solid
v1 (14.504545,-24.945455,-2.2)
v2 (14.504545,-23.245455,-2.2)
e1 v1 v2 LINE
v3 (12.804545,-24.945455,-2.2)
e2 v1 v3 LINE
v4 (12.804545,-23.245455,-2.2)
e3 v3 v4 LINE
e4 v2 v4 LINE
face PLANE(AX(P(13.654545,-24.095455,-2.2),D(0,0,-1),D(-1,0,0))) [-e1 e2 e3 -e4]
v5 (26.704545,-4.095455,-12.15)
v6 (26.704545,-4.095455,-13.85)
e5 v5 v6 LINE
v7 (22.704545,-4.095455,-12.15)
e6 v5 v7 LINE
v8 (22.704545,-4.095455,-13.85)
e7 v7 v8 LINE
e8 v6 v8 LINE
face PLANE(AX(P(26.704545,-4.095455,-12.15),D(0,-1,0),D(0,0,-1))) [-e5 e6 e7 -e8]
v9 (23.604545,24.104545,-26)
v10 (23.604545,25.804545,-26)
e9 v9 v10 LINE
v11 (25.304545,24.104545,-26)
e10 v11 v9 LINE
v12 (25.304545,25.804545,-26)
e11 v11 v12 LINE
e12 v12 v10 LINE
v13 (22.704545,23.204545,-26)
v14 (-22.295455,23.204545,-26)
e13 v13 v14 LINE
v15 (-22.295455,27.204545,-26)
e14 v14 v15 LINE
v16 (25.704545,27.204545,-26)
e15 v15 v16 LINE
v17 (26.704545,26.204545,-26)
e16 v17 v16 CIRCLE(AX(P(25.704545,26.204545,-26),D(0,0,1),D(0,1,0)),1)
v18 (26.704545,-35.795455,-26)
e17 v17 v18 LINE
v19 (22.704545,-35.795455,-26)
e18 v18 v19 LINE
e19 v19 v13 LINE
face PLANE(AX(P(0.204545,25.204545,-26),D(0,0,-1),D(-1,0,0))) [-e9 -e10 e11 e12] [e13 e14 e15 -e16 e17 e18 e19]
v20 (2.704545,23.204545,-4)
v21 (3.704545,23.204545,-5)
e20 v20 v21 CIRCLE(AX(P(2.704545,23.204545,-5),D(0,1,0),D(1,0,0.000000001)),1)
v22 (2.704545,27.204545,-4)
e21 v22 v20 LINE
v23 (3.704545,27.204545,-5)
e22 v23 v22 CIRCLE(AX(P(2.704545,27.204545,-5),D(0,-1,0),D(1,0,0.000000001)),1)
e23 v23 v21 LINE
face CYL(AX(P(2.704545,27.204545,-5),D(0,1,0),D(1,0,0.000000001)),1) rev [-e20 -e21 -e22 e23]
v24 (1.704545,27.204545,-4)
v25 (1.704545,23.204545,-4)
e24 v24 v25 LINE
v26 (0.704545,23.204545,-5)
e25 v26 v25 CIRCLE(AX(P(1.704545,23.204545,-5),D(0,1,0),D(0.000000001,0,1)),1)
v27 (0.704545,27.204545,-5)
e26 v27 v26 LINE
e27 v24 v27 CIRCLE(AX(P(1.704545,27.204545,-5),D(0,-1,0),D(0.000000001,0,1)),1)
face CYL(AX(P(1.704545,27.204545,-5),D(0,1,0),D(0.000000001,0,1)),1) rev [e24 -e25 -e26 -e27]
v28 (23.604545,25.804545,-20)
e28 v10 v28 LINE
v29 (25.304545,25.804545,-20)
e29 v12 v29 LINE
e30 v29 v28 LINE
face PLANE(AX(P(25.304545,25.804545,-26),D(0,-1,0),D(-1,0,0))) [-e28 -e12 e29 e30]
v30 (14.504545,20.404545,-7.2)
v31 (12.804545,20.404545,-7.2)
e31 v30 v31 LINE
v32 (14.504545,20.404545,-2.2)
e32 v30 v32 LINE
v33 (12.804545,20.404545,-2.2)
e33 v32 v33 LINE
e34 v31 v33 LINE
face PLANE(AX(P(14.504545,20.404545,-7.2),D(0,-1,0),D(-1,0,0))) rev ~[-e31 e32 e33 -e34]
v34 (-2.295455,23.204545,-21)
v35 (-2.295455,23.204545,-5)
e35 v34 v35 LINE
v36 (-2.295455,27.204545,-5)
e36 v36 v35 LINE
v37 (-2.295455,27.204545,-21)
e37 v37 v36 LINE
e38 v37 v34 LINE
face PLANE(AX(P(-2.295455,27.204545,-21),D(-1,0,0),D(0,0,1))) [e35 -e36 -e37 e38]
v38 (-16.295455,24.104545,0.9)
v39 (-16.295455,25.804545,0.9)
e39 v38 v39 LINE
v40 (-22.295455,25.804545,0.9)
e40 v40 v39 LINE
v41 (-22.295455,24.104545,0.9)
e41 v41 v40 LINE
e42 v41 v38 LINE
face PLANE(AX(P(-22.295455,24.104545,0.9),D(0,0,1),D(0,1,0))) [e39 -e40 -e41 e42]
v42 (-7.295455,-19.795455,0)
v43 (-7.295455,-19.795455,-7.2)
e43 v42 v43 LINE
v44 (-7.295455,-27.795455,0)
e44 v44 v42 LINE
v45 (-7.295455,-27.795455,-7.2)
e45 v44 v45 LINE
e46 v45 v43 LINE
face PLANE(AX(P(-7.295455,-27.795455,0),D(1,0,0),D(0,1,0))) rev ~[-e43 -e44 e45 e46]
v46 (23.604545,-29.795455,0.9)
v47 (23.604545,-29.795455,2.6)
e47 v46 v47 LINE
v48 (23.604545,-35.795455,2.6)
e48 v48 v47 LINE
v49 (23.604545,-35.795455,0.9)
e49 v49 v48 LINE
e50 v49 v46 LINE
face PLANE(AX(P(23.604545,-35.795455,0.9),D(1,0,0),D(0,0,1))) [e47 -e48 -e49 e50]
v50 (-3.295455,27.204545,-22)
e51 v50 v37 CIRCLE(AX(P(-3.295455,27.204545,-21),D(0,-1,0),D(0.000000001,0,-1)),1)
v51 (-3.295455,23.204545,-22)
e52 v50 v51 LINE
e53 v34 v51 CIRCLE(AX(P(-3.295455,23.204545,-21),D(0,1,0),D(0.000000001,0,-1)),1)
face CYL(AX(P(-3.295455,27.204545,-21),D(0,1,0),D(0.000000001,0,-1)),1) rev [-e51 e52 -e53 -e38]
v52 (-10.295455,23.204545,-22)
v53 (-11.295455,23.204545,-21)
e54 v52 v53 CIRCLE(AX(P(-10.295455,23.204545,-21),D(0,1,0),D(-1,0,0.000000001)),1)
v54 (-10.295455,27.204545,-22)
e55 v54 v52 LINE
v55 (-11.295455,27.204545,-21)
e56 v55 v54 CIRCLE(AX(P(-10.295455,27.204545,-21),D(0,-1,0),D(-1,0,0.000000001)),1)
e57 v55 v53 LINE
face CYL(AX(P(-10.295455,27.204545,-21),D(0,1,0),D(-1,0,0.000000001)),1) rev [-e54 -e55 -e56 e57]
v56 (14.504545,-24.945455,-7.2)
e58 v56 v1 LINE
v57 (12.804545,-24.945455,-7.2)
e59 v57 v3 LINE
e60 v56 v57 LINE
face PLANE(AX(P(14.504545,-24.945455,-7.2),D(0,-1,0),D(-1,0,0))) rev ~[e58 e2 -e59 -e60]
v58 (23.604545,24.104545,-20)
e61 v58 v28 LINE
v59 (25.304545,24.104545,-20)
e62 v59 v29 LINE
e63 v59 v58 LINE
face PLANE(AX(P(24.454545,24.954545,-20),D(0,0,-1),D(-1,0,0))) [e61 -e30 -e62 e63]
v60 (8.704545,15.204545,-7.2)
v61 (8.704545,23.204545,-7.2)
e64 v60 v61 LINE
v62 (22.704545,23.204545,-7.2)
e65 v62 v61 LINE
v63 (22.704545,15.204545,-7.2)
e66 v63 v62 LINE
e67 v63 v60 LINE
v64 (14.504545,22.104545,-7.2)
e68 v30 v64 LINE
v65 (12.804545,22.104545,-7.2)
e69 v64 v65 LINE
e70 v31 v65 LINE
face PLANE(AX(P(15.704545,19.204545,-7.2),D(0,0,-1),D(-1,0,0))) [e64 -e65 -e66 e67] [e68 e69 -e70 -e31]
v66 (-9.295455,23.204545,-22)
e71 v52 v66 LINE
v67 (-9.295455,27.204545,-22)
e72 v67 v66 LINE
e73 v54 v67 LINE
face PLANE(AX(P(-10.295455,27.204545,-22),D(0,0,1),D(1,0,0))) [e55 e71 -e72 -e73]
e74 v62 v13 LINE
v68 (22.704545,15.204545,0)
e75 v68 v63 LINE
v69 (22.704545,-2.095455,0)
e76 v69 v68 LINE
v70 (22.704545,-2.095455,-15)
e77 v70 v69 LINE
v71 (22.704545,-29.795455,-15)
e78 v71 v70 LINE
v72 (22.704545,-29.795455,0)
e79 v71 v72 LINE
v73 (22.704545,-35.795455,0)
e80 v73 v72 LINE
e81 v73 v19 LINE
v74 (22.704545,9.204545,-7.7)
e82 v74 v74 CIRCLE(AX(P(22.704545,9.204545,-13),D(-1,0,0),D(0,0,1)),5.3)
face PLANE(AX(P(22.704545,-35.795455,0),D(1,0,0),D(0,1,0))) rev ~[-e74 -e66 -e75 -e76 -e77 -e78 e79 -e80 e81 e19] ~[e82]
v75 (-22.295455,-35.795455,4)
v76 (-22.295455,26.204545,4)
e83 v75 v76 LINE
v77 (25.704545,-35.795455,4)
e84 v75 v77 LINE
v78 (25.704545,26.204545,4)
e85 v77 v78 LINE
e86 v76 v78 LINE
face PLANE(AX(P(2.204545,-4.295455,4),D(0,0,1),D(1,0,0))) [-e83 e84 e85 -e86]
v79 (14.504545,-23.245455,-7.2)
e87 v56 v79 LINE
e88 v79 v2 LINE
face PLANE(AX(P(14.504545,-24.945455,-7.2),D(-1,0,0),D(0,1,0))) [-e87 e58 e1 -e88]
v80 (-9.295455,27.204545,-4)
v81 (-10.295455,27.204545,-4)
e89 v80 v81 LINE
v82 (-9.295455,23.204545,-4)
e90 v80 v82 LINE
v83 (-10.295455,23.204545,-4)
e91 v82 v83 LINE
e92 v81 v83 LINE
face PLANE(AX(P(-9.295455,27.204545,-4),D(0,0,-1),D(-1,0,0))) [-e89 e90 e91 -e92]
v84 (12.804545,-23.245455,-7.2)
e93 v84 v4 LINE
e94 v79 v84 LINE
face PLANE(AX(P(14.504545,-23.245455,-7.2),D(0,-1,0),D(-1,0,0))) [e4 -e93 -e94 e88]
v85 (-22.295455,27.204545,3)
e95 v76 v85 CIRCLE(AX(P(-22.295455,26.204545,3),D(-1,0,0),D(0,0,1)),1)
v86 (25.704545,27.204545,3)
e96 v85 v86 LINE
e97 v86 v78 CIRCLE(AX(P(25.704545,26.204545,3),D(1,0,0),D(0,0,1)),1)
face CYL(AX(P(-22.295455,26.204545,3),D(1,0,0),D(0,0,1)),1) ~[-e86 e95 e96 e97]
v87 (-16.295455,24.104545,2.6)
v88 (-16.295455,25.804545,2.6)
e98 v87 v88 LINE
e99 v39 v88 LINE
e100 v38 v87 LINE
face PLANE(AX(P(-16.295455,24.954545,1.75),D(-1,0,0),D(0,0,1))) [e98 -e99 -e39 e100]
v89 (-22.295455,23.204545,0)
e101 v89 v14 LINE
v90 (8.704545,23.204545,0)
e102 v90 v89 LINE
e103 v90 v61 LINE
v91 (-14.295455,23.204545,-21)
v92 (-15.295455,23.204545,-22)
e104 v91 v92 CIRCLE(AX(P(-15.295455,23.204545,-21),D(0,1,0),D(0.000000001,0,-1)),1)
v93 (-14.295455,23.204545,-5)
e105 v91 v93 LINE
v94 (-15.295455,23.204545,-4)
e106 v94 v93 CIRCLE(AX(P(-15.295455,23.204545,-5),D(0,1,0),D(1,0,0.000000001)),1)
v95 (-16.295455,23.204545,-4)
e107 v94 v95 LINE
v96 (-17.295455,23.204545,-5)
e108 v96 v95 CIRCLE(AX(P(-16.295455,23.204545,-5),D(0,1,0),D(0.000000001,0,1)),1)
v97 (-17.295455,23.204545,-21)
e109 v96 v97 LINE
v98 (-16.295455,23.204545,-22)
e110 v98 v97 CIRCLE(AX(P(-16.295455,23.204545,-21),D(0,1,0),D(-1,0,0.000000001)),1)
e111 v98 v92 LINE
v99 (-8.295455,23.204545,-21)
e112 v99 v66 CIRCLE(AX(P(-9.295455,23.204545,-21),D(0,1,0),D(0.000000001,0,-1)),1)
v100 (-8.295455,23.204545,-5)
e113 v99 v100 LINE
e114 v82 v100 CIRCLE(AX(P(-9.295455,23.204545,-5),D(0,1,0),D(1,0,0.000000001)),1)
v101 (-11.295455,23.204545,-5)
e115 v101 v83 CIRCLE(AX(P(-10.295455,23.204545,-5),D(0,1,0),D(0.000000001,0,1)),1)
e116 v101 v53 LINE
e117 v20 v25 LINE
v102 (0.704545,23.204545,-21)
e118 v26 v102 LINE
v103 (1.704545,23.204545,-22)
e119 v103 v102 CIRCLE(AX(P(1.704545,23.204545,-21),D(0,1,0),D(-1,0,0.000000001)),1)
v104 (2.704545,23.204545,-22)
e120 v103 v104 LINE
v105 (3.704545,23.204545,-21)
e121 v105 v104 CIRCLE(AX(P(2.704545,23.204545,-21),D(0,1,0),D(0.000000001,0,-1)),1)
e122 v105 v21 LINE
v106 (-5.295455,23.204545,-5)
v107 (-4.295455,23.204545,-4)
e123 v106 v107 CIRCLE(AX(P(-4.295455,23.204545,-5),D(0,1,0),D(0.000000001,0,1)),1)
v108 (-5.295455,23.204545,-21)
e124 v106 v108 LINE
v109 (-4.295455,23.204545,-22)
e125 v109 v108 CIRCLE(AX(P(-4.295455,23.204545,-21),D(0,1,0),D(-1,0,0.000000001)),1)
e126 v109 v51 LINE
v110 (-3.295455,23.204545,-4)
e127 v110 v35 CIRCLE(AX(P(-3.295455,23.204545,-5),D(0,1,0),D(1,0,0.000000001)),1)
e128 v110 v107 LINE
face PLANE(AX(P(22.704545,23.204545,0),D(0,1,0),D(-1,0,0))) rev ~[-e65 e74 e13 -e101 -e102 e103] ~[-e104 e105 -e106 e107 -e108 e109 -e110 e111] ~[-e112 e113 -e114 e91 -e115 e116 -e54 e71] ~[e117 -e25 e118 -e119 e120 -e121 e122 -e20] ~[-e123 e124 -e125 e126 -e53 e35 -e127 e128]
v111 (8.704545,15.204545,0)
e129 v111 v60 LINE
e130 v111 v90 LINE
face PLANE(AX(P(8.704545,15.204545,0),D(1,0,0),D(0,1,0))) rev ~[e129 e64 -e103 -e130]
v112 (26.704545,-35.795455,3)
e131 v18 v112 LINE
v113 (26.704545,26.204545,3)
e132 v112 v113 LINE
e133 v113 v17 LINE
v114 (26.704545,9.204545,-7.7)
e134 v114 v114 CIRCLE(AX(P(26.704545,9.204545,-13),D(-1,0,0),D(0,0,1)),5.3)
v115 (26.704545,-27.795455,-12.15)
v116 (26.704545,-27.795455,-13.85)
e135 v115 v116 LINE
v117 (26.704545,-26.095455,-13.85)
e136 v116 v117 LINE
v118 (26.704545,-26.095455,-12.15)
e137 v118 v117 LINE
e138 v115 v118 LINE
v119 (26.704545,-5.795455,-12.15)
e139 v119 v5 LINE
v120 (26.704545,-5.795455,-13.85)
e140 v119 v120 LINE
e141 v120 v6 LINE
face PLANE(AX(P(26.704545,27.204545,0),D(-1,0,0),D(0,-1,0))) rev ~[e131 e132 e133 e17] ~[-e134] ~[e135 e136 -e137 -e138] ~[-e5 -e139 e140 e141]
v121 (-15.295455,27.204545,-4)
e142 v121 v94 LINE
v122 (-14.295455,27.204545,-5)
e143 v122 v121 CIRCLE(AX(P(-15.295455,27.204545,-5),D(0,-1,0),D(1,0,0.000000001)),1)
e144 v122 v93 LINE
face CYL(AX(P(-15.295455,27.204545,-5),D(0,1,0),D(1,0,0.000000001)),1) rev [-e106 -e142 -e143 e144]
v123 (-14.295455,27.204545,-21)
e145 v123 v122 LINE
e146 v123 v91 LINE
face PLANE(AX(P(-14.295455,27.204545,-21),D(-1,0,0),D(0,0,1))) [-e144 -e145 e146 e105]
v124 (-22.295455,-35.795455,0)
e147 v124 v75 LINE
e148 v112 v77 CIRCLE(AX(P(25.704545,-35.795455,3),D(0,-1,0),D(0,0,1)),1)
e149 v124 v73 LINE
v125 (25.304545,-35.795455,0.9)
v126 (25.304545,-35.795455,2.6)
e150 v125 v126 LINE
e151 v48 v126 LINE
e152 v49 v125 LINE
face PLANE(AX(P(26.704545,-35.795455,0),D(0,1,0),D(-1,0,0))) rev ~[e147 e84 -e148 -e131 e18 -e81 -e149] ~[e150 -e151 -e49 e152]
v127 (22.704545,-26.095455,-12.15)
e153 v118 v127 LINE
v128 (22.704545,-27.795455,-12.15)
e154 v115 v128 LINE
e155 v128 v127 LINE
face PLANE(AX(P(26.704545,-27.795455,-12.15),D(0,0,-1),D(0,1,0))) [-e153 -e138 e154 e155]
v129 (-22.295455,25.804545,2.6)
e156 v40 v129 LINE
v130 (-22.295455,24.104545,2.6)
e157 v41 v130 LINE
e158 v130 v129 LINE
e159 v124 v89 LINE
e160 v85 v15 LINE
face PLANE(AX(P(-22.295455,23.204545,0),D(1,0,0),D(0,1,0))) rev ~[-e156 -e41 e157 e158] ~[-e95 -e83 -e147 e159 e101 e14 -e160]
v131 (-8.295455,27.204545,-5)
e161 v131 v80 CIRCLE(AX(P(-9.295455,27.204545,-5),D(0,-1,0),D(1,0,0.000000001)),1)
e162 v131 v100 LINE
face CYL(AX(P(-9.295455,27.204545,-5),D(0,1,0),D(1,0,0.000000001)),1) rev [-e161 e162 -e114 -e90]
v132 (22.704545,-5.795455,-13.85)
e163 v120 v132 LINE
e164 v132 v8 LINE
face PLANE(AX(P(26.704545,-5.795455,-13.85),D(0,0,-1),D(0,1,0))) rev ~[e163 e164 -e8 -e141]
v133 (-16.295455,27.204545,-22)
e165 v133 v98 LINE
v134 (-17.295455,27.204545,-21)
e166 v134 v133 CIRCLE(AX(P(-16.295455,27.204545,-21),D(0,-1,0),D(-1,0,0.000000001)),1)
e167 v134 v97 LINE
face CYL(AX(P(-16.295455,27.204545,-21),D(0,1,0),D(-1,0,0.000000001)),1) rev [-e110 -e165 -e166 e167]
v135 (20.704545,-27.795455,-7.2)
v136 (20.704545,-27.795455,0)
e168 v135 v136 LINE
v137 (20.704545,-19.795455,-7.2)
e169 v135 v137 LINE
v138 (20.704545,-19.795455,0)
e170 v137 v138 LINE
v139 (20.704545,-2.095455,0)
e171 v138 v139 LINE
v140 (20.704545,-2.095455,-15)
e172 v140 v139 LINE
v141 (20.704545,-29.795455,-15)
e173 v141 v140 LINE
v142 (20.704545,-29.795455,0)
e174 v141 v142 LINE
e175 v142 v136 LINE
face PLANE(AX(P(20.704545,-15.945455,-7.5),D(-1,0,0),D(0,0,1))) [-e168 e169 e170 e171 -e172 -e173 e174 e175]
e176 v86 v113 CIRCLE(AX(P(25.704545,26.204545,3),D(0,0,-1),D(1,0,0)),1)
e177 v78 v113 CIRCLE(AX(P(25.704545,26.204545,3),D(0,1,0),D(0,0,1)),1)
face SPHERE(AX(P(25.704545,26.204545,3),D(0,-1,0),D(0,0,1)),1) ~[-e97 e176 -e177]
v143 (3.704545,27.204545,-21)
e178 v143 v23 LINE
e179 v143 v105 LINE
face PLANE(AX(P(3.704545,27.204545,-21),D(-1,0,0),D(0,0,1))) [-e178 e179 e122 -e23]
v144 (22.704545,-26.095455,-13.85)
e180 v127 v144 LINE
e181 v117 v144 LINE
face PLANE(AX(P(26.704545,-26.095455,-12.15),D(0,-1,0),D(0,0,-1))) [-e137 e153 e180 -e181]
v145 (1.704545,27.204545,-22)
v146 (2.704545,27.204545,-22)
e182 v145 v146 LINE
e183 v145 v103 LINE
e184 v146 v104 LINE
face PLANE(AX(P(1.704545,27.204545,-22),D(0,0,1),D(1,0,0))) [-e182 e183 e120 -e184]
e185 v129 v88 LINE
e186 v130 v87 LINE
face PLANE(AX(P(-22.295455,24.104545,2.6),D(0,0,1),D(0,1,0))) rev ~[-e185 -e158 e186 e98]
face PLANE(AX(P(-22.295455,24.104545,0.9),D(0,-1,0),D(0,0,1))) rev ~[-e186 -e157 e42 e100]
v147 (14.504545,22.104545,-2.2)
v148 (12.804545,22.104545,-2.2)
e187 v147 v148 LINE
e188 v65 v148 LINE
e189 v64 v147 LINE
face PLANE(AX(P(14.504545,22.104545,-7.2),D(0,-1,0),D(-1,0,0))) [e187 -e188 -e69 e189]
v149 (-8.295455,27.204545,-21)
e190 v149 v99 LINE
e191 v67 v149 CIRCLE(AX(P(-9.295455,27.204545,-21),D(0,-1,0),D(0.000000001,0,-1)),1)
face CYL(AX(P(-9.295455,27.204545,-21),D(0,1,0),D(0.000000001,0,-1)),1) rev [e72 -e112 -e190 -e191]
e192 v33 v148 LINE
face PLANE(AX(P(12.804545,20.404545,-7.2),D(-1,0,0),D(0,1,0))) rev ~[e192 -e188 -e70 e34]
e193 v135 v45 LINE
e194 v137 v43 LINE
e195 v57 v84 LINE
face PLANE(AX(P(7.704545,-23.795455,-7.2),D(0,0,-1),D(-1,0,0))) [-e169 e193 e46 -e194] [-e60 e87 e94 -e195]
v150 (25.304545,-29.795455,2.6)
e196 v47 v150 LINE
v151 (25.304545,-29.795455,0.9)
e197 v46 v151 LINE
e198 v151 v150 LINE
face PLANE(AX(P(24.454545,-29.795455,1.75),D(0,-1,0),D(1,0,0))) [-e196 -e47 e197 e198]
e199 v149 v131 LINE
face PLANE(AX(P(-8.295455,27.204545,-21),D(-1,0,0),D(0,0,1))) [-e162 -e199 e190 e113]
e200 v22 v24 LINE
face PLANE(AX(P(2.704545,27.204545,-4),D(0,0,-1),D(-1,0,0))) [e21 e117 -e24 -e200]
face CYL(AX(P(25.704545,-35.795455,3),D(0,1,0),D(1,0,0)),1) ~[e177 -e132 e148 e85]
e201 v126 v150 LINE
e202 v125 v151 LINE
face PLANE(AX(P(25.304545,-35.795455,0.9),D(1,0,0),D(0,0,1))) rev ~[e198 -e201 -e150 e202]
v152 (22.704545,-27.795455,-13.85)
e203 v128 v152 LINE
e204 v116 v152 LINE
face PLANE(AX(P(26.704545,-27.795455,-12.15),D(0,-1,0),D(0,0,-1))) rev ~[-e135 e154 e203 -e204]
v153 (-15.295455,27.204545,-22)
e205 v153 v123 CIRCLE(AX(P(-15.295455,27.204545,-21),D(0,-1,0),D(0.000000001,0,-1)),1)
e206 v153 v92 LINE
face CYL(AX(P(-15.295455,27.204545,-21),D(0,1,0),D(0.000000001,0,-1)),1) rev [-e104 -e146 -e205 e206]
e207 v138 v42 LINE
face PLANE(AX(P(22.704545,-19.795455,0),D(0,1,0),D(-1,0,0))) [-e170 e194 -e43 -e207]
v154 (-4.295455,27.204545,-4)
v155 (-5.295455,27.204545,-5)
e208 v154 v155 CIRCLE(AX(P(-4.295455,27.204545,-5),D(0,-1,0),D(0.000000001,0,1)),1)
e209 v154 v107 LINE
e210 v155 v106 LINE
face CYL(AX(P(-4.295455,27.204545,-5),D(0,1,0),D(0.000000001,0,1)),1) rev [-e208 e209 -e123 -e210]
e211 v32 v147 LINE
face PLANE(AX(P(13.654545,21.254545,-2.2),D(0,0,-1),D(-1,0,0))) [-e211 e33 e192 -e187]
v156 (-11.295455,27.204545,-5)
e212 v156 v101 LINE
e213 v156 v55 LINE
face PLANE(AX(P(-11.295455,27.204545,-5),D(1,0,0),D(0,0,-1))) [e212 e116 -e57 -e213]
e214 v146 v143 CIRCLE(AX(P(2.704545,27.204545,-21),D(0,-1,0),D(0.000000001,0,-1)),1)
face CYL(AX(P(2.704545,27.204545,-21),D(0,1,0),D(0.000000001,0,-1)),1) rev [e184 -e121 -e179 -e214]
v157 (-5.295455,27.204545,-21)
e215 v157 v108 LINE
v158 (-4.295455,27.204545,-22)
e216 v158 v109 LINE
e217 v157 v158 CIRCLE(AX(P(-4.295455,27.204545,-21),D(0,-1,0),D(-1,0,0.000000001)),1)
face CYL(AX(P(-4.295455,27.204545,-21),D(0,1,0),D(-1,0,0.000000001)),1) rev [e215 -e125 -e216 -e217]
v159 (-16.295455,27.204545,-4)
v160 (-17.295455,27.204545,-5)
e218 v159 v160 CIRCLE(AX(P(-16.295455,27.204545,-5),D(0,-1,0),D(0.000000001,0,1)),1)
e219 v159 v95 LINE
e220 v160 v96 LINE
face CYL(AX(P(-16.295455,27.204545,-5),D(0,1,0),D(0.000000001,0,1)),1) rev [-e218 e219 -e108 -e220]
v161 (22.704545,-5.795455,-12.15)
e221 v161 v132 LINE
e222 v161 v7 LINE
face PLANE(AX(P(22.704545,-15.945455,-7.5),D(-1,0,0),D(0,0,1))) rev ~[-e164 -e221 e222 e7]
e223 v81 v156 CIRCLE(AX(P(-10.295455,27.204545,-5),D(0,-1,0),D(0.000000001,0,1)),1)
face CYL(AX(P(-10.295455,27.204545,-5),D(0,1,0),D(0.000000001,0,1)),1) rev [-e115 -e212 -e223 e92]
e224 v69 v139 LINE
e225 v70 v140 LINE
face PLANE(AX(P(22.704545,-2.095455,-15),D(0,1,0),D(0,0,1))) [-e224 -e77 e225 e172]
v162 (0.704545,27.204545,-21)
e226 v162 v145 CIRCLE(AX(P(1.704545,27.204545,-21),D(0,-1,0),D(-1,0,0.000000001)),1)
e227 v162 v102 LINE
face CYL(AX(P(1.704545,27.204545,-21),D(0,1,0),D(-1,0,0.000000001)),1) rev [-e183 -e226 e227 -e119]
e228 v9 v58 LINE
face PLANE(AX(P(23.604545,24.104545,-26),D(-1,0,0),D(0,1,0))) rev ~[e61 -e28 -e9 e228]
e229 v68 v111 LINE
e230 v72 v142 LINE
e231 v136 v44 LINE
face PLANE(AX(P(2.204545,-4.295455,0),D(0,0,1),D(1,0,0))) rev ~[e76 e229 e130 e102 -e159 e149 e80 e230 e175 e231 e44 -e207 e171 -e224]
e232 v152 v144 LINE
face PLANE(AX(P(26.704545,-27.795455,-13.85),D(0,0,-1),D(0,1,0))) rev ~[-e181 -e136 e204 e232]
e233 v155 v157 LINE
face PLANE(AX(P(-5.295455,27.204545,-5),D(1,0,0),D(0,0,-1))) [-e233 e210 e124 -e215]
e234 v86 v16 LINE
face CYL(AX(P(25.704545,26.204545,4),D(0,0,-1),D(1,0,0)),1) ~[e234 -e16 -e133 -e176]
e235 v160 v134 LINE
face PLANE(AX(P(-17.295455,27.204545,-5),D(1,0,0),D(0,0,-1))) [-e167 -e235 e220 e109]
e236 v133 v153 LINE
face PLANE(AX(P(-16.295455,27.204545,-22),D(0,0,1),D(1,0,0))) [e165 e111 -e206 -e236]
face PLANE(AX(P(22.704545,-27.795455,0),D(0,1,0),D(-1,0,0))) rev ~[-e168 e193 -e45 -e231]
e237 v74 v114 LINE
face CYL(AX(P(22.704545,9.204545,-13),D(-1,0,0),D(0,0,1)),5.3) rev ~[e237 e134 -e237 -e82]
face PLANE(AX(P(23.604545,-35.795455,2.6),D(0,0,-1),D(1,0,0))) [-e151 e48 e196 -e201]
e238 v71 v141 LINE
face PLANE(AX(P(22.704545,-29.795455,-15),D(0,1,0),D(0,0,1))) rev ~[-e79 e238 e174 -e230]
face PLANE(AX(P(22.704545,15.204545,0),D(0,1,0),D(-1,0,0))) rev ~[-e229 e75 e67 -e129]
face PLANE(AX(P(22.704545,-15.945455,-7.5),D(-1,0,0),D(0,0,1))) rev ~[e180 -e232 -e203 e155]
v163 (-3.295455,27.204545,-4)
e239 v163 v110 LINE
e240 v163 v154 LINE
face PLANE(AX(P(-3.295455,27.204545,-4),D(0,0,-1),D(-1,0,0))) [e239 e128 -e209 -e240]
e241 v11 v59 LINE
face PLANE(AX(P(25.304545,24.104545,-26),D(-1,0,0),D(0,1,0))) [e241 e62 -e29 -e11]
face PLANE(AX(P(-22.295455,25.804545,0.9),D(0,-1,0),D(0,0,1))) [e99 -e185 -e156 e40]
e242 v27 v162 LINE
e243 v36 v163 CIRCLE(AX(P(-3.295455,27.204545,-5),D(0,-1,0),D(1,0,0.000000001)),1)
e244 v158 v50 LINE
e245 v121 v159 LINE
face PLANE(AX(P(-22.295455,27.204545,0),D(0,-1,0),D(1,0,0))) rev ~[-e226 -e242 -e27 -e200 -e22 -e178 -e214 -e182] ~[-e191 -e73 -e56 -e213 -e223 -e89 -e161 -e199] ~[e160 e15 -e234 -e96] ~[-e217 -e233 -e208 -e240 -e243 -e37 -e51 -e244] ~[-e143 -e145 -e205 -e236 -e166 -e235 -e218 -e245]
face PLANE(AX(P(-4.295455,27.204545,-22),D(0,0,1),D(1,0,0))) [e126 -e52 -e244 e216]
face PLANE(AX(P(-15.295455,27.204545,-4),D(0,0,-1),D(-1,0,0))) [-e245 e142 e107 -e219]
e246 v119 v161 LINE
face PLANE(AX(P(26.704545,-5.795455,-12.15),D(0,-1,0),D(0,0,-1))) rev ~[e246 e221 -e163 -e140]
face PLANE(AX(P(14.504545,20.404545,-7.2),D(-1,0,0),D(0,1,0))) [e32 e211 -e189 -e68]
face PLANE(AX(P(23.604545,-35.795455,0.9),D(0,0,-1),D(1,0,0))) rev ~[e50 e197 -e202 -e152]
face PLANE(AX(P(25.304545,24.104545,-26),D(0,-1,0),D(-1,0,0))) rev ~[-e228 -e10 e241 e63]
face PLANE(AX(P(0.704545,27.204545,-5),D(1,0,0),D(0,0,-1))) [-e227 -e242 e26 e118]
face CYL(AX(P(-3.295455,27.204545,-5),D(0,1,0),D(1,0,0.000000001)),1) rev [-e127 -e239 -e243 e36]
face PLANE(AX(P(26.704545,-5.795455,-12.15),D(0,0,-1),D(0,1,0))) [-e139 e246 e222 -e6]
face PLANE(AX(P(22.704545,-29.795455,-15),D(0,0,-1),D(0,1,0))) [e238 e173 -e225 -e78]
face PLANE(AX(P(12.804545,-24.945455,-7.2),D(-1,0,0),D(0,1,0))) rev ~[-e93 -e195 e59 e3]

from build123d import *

# Parameters (mm, degrees)
SKETCH_1_W          = 49
SKETCH_1_H          = 63
EXTRUDE_1_DEPTH     = 4
SKETCH_2_W          = 45
SKETCH_2_H          = 4
SKETCH_2_W_2        = 4
SKETCH_2_H_2        = 59
EXTRUDE_2_DEPTH     = 26
SKETCH_3_W          = 14
SKETCH_3_H          = 8
SKETCH_3_W_2        = 30
EXTRUDE_3_DEPTH     = 7.2
SKETCH_5_R          = 5.3
CUT_EXTRUDE_1_DEPTH = 4
SKETCH_7_W          = 1.7
SKETCH_7_H          = 1.7
CUT_EXTRUDE_3_DEPTH = 6
SKETCH_8_W          = 1.7
SKETCH_8_H          = 1.7
CUT_EXTRUDE_4_DEPTH = 6
SKETCH_9_W          = 1.7
SKETCH_9_H          = 1.7
CUT_EXTRUDE_5_DEPTH = 6
FILLET_1_R          = 1
SKETCH_6_W          = 1.7
SKETCH_6_H          = 1.7
CUT_EXTRUDE_7_DEPTH = 5
SKETCH_10_W         = 15
SKETCH_10_H         = 27.7
EXTRUDE_4_DEPTH     = 2
CUT_EXTRUDE_8_DEPTH = 13
SKETCH_12_W         = 1.7
SKETCH_12_H         = 1.7
CUT_EXTRUDE_9_DEPTH = 5


with BuildPart() as part:
    # Эскиз1 → Бобышка-Вытянуть1 (new body)
    with BuildSketch(Plane.XY):
        with Locations((2.204545455, -4.295454545)):
            Rectangle(SKETCH_1_W, SKETCH_1_H)
    extrude(amount=EXTRUDE_1_DEPTH)

    # Эскиз2 → Бобышка-Вытянуть2 (add)
    with BuildSketch(Plane(origin=(0, 0, 0), x_dir=(-1, 0, 0), z_dir=(0, 0, -1))):
        with Locations((-0.204545455, 25.204545455)):
            Rectangle(SKETCH_2_W, SKETCH_2_H)
        with Locations((-24.704545455, -6.295454545)):
            Rectangle(SKETCH_2_W_2, SKETCH_2_H_2)
        with Locations((-24.704545455, 25.204545455)):
            Rectangle(SKETCH_2_W_2, SKETCH_2_H)
    extrude(amount=EXTRUDE_2_DEPTH)

    # Эскиз3 → Бобышка-Вытянуть3 (add)
    with BuildSketch(Plane(origin=(0, 0, 0), x_dir=(-1, 0, 0), z_dir=(0, 0, -1))):
        with Locations((-15.704545455, 19.204545455)):
            Rectangle(SKETCH_3_W, SKETCH_3_H)
        with Locations((-7.704545455, -23.795454545)):
            Rectangle(SKETCH_3_W_2, SKETCH_3_H)
    extrude(amount=EXTRUDE_3_DEPTH)

    # Эскиз5 → Вырез-Вытянуть1 (cut)
    with BuildSketch(Plane.ZY.offset(-22.704545455)):
        with Locations((-13, 9.204545455)):
            Circle(SKETCH_5_R)
    extrude(amount=-CUT_EXTRUDE_1_DEPTH, mode=Mode.SUBTRACT)

    # Эскиз7 → Вырез-Вытянуть3 (cut)
    with BuildSketch(Plane.ZY.offset(22.295454545)):
        with Locations((1.75, 24.954545455)):
            Rectangle(SKETCH_7_W, SKETCH_7_H)
    extrude(amount=-CUT_EXTRUDE_3_DEPTH, mode=Mode.SUBTRACT)

    # Эскиз8 → Вырез-Вытянуть4 (cut)
    with BuildSketch(Plane.XZ.offset(35.795454545)):
        with Locations((24.454545455, 1.75)):
            Rectangle(SKETCH_8_W, SKETCH_8_H)
    extrude(amount=-CUT_EXTRUDE_4_DEPTH, mode=Mode.SUBTRACT)

    # Эскиз9 → Вырез-Вытянуть5 (cut)
    with BuildSketch(Plane(origin=(0, 0, -26), x_dir=(-1, 0, 0), z_dir=(0, 0, -1))):
        with Locations((-24.454545455, 24.954545455)):
            Rectangle(SKETCH_9_W, SKETCH_9_H)
    extrude(amount=-CUT_EXTRUDE_5_DEPTH, mode=Mode.SUBTRACT)

    # Скругление1
    fillet_1_edges = [part.edges().sort_by_distance(p)[0] for p in [
        (26.704545455, -4.295454545, 4),
        (2.204545455, 27.204545455, 4),
        (26.704545455, 27.204545455, -11),
    ]]
    fillet(fillet_1_edges, radius=FILLET_1_R)

    # Эскиз6 → Вырез-Вытянуть7 (cut)
    with BuildSketch(Plane(origin=(26.704545455, 0, 0), x_dir=(0, 0, -1), z_dir=(1, 0, 0))):
        with Locations((13, -4.945454545)):
            Rectangle(SKETCH_6_W, SKETCH_6_H)
        with Locations((13, -26.945454545)):
            Rectangle(SKETCH_6_W, SKETCH_6_H)
    extrude(amount=-CUT_EXTRUDE_7_DEPTH, mode=Mode.SUBTRACT)

    # Эскиз10 → Бобышка-Вытянуть4 (add)
    with BuildSketch(Plane.ZY.offset(-22.704545455)):
        with Locations((-7.5, -15.945454545)):
            Rectangle(SKETCH_10_W, SKETCH_10_H)
    extrude(amount=EXTRUDE_4_DEPTH)

    # Эскиз11 → Вырез-Вытянуть8 (cut)
    with BuildSketch(Plane(origin=(0, 27.204545455, 0), x_dir=(1, 0, 0), z_dir=(0, 1, 0))):
        with BuildLine():
            Line((2.704545455, 4), (1.704545455, 4))
            ThreePointArc((1.704545455, 4), (0.997438673, 4.292893219), (0.704545455, 5))
            Line((0.704545455, 5), (0.704545455, 21))
            ThreePointArc((0.704545455, 21), (0.997438673, 21.707106781), (1.704545455, 22))
            Line((1.704545455, 22), (2.704545455, 22))
            ThreePointArc((2.704545455, 22), (3.411652236, 21.707106781), (3.704545455, 21))
            Line((3.704545455, 21), (3.704545455, 5))
            ThreePointArc((3.704545455, 5), (3.411652236, 4.292893219), (2.704545455, 4))
        make_face()
        with BuildLine():
            Line((-3.295454545, 4), (-4.295454545, 4))
            ThreePointArc((-4.295454545, 4), (-5.002561327, 4.292893219), (-5.295454545, 5))
            Line((-5.295454545, 5), (-5.295454545, 21))
            ThreePointArc((-5.295454545, 21), (-5.002561327, 21.707106781), (-4.295454545, 22))
            Line((-4.295454545, 22), (-3.295454545, 22))
            ThreePointArc((-3.295454545, 22), (-2.588347764, 21.707106781), (-2.295454545, 21))
            Line((-2.295454545, 21), (-2.295454545, 5))
            ThreePointArc((-2.295454545, 5), (-2.588347764, 4.292893219), (-3.295454545, 4))
        make_face()
        with BuildLine():
            Line((-9.295454545, 4), (-10.295454545, 4))
            ThreePointArc((-10.295454545, 4), (-11.002561327, 4.292893219), (-11.295454545, 5))
            Line((-11.295454545, 5), (-11.295454545, 21))
            ThreePointArc((-11.295454545, 21), (-11.002561327, 21.707106781), (-10.295454545, 22))
            Line((-10.295454545, 22), (-9.295454545, 22))
            ThreePointArc((-9.295454545, 22), (-8.588347764, 21.707106781), (-8.295454545, 21))
            Line((-8.295454545, 21), (-8.295454545, 5))
            ThreePointArc((-8.295454545, 5), (-8.588347764, 4.292893219), (-9.295454545, 4))
        make_face()
        with BuildLine():
            Line((-15.295454545, 4), (-16.295454545, 4))
            ThreePointArc((-16.295454545, 4), (-17.002561327, 4.292893219), (-17.295454545, 5))
            Line((-17.295454545, 5), (-17.295454545, 21))
            ThreePointArc((-17.295454545, 21), (-17.002561327, 21.707106781), (-16.295454545, 22))
            Line((-16.295454545, 22), (-15.295454545, 22))
            ThreePointArc((-15.295454545, 22), (-14.588347764, 21.707106781), (-14.295454545, 21))
            Line((-14.295454545, 21), (-14.295454545, 5))
            ThreePointArc((-14.295454545, 5), (-14.588347764, 4.292893219), (-15.295454545, 4))
        make_face()
    extrude(amount=-CUT_EXTRUDE_8_DEPTH, mode=Mode.SUBTRACT)

    # Эскиз12 → Вырез-Вытянуть9 (cut)
    with BuildSketch(Plane(origin=(0, 0, -7.2), x_dir=(-1, 0, 0), z_dir=(0, 0, -1))):
        with Locations((-13.654545455, 21.254545455)):
            Rectangle(SKETCH_12_W, SKETCH_12_H)
        with Locations((-13.654545455, -24.095454545)):
            Rectangle(SKETCH_12_W, SKETCH_12_H)
    extrude(amount=-CUT_EXTRUDE_9_DEPTH, mode=Mode.SUBTRACT)


solid = part.part
